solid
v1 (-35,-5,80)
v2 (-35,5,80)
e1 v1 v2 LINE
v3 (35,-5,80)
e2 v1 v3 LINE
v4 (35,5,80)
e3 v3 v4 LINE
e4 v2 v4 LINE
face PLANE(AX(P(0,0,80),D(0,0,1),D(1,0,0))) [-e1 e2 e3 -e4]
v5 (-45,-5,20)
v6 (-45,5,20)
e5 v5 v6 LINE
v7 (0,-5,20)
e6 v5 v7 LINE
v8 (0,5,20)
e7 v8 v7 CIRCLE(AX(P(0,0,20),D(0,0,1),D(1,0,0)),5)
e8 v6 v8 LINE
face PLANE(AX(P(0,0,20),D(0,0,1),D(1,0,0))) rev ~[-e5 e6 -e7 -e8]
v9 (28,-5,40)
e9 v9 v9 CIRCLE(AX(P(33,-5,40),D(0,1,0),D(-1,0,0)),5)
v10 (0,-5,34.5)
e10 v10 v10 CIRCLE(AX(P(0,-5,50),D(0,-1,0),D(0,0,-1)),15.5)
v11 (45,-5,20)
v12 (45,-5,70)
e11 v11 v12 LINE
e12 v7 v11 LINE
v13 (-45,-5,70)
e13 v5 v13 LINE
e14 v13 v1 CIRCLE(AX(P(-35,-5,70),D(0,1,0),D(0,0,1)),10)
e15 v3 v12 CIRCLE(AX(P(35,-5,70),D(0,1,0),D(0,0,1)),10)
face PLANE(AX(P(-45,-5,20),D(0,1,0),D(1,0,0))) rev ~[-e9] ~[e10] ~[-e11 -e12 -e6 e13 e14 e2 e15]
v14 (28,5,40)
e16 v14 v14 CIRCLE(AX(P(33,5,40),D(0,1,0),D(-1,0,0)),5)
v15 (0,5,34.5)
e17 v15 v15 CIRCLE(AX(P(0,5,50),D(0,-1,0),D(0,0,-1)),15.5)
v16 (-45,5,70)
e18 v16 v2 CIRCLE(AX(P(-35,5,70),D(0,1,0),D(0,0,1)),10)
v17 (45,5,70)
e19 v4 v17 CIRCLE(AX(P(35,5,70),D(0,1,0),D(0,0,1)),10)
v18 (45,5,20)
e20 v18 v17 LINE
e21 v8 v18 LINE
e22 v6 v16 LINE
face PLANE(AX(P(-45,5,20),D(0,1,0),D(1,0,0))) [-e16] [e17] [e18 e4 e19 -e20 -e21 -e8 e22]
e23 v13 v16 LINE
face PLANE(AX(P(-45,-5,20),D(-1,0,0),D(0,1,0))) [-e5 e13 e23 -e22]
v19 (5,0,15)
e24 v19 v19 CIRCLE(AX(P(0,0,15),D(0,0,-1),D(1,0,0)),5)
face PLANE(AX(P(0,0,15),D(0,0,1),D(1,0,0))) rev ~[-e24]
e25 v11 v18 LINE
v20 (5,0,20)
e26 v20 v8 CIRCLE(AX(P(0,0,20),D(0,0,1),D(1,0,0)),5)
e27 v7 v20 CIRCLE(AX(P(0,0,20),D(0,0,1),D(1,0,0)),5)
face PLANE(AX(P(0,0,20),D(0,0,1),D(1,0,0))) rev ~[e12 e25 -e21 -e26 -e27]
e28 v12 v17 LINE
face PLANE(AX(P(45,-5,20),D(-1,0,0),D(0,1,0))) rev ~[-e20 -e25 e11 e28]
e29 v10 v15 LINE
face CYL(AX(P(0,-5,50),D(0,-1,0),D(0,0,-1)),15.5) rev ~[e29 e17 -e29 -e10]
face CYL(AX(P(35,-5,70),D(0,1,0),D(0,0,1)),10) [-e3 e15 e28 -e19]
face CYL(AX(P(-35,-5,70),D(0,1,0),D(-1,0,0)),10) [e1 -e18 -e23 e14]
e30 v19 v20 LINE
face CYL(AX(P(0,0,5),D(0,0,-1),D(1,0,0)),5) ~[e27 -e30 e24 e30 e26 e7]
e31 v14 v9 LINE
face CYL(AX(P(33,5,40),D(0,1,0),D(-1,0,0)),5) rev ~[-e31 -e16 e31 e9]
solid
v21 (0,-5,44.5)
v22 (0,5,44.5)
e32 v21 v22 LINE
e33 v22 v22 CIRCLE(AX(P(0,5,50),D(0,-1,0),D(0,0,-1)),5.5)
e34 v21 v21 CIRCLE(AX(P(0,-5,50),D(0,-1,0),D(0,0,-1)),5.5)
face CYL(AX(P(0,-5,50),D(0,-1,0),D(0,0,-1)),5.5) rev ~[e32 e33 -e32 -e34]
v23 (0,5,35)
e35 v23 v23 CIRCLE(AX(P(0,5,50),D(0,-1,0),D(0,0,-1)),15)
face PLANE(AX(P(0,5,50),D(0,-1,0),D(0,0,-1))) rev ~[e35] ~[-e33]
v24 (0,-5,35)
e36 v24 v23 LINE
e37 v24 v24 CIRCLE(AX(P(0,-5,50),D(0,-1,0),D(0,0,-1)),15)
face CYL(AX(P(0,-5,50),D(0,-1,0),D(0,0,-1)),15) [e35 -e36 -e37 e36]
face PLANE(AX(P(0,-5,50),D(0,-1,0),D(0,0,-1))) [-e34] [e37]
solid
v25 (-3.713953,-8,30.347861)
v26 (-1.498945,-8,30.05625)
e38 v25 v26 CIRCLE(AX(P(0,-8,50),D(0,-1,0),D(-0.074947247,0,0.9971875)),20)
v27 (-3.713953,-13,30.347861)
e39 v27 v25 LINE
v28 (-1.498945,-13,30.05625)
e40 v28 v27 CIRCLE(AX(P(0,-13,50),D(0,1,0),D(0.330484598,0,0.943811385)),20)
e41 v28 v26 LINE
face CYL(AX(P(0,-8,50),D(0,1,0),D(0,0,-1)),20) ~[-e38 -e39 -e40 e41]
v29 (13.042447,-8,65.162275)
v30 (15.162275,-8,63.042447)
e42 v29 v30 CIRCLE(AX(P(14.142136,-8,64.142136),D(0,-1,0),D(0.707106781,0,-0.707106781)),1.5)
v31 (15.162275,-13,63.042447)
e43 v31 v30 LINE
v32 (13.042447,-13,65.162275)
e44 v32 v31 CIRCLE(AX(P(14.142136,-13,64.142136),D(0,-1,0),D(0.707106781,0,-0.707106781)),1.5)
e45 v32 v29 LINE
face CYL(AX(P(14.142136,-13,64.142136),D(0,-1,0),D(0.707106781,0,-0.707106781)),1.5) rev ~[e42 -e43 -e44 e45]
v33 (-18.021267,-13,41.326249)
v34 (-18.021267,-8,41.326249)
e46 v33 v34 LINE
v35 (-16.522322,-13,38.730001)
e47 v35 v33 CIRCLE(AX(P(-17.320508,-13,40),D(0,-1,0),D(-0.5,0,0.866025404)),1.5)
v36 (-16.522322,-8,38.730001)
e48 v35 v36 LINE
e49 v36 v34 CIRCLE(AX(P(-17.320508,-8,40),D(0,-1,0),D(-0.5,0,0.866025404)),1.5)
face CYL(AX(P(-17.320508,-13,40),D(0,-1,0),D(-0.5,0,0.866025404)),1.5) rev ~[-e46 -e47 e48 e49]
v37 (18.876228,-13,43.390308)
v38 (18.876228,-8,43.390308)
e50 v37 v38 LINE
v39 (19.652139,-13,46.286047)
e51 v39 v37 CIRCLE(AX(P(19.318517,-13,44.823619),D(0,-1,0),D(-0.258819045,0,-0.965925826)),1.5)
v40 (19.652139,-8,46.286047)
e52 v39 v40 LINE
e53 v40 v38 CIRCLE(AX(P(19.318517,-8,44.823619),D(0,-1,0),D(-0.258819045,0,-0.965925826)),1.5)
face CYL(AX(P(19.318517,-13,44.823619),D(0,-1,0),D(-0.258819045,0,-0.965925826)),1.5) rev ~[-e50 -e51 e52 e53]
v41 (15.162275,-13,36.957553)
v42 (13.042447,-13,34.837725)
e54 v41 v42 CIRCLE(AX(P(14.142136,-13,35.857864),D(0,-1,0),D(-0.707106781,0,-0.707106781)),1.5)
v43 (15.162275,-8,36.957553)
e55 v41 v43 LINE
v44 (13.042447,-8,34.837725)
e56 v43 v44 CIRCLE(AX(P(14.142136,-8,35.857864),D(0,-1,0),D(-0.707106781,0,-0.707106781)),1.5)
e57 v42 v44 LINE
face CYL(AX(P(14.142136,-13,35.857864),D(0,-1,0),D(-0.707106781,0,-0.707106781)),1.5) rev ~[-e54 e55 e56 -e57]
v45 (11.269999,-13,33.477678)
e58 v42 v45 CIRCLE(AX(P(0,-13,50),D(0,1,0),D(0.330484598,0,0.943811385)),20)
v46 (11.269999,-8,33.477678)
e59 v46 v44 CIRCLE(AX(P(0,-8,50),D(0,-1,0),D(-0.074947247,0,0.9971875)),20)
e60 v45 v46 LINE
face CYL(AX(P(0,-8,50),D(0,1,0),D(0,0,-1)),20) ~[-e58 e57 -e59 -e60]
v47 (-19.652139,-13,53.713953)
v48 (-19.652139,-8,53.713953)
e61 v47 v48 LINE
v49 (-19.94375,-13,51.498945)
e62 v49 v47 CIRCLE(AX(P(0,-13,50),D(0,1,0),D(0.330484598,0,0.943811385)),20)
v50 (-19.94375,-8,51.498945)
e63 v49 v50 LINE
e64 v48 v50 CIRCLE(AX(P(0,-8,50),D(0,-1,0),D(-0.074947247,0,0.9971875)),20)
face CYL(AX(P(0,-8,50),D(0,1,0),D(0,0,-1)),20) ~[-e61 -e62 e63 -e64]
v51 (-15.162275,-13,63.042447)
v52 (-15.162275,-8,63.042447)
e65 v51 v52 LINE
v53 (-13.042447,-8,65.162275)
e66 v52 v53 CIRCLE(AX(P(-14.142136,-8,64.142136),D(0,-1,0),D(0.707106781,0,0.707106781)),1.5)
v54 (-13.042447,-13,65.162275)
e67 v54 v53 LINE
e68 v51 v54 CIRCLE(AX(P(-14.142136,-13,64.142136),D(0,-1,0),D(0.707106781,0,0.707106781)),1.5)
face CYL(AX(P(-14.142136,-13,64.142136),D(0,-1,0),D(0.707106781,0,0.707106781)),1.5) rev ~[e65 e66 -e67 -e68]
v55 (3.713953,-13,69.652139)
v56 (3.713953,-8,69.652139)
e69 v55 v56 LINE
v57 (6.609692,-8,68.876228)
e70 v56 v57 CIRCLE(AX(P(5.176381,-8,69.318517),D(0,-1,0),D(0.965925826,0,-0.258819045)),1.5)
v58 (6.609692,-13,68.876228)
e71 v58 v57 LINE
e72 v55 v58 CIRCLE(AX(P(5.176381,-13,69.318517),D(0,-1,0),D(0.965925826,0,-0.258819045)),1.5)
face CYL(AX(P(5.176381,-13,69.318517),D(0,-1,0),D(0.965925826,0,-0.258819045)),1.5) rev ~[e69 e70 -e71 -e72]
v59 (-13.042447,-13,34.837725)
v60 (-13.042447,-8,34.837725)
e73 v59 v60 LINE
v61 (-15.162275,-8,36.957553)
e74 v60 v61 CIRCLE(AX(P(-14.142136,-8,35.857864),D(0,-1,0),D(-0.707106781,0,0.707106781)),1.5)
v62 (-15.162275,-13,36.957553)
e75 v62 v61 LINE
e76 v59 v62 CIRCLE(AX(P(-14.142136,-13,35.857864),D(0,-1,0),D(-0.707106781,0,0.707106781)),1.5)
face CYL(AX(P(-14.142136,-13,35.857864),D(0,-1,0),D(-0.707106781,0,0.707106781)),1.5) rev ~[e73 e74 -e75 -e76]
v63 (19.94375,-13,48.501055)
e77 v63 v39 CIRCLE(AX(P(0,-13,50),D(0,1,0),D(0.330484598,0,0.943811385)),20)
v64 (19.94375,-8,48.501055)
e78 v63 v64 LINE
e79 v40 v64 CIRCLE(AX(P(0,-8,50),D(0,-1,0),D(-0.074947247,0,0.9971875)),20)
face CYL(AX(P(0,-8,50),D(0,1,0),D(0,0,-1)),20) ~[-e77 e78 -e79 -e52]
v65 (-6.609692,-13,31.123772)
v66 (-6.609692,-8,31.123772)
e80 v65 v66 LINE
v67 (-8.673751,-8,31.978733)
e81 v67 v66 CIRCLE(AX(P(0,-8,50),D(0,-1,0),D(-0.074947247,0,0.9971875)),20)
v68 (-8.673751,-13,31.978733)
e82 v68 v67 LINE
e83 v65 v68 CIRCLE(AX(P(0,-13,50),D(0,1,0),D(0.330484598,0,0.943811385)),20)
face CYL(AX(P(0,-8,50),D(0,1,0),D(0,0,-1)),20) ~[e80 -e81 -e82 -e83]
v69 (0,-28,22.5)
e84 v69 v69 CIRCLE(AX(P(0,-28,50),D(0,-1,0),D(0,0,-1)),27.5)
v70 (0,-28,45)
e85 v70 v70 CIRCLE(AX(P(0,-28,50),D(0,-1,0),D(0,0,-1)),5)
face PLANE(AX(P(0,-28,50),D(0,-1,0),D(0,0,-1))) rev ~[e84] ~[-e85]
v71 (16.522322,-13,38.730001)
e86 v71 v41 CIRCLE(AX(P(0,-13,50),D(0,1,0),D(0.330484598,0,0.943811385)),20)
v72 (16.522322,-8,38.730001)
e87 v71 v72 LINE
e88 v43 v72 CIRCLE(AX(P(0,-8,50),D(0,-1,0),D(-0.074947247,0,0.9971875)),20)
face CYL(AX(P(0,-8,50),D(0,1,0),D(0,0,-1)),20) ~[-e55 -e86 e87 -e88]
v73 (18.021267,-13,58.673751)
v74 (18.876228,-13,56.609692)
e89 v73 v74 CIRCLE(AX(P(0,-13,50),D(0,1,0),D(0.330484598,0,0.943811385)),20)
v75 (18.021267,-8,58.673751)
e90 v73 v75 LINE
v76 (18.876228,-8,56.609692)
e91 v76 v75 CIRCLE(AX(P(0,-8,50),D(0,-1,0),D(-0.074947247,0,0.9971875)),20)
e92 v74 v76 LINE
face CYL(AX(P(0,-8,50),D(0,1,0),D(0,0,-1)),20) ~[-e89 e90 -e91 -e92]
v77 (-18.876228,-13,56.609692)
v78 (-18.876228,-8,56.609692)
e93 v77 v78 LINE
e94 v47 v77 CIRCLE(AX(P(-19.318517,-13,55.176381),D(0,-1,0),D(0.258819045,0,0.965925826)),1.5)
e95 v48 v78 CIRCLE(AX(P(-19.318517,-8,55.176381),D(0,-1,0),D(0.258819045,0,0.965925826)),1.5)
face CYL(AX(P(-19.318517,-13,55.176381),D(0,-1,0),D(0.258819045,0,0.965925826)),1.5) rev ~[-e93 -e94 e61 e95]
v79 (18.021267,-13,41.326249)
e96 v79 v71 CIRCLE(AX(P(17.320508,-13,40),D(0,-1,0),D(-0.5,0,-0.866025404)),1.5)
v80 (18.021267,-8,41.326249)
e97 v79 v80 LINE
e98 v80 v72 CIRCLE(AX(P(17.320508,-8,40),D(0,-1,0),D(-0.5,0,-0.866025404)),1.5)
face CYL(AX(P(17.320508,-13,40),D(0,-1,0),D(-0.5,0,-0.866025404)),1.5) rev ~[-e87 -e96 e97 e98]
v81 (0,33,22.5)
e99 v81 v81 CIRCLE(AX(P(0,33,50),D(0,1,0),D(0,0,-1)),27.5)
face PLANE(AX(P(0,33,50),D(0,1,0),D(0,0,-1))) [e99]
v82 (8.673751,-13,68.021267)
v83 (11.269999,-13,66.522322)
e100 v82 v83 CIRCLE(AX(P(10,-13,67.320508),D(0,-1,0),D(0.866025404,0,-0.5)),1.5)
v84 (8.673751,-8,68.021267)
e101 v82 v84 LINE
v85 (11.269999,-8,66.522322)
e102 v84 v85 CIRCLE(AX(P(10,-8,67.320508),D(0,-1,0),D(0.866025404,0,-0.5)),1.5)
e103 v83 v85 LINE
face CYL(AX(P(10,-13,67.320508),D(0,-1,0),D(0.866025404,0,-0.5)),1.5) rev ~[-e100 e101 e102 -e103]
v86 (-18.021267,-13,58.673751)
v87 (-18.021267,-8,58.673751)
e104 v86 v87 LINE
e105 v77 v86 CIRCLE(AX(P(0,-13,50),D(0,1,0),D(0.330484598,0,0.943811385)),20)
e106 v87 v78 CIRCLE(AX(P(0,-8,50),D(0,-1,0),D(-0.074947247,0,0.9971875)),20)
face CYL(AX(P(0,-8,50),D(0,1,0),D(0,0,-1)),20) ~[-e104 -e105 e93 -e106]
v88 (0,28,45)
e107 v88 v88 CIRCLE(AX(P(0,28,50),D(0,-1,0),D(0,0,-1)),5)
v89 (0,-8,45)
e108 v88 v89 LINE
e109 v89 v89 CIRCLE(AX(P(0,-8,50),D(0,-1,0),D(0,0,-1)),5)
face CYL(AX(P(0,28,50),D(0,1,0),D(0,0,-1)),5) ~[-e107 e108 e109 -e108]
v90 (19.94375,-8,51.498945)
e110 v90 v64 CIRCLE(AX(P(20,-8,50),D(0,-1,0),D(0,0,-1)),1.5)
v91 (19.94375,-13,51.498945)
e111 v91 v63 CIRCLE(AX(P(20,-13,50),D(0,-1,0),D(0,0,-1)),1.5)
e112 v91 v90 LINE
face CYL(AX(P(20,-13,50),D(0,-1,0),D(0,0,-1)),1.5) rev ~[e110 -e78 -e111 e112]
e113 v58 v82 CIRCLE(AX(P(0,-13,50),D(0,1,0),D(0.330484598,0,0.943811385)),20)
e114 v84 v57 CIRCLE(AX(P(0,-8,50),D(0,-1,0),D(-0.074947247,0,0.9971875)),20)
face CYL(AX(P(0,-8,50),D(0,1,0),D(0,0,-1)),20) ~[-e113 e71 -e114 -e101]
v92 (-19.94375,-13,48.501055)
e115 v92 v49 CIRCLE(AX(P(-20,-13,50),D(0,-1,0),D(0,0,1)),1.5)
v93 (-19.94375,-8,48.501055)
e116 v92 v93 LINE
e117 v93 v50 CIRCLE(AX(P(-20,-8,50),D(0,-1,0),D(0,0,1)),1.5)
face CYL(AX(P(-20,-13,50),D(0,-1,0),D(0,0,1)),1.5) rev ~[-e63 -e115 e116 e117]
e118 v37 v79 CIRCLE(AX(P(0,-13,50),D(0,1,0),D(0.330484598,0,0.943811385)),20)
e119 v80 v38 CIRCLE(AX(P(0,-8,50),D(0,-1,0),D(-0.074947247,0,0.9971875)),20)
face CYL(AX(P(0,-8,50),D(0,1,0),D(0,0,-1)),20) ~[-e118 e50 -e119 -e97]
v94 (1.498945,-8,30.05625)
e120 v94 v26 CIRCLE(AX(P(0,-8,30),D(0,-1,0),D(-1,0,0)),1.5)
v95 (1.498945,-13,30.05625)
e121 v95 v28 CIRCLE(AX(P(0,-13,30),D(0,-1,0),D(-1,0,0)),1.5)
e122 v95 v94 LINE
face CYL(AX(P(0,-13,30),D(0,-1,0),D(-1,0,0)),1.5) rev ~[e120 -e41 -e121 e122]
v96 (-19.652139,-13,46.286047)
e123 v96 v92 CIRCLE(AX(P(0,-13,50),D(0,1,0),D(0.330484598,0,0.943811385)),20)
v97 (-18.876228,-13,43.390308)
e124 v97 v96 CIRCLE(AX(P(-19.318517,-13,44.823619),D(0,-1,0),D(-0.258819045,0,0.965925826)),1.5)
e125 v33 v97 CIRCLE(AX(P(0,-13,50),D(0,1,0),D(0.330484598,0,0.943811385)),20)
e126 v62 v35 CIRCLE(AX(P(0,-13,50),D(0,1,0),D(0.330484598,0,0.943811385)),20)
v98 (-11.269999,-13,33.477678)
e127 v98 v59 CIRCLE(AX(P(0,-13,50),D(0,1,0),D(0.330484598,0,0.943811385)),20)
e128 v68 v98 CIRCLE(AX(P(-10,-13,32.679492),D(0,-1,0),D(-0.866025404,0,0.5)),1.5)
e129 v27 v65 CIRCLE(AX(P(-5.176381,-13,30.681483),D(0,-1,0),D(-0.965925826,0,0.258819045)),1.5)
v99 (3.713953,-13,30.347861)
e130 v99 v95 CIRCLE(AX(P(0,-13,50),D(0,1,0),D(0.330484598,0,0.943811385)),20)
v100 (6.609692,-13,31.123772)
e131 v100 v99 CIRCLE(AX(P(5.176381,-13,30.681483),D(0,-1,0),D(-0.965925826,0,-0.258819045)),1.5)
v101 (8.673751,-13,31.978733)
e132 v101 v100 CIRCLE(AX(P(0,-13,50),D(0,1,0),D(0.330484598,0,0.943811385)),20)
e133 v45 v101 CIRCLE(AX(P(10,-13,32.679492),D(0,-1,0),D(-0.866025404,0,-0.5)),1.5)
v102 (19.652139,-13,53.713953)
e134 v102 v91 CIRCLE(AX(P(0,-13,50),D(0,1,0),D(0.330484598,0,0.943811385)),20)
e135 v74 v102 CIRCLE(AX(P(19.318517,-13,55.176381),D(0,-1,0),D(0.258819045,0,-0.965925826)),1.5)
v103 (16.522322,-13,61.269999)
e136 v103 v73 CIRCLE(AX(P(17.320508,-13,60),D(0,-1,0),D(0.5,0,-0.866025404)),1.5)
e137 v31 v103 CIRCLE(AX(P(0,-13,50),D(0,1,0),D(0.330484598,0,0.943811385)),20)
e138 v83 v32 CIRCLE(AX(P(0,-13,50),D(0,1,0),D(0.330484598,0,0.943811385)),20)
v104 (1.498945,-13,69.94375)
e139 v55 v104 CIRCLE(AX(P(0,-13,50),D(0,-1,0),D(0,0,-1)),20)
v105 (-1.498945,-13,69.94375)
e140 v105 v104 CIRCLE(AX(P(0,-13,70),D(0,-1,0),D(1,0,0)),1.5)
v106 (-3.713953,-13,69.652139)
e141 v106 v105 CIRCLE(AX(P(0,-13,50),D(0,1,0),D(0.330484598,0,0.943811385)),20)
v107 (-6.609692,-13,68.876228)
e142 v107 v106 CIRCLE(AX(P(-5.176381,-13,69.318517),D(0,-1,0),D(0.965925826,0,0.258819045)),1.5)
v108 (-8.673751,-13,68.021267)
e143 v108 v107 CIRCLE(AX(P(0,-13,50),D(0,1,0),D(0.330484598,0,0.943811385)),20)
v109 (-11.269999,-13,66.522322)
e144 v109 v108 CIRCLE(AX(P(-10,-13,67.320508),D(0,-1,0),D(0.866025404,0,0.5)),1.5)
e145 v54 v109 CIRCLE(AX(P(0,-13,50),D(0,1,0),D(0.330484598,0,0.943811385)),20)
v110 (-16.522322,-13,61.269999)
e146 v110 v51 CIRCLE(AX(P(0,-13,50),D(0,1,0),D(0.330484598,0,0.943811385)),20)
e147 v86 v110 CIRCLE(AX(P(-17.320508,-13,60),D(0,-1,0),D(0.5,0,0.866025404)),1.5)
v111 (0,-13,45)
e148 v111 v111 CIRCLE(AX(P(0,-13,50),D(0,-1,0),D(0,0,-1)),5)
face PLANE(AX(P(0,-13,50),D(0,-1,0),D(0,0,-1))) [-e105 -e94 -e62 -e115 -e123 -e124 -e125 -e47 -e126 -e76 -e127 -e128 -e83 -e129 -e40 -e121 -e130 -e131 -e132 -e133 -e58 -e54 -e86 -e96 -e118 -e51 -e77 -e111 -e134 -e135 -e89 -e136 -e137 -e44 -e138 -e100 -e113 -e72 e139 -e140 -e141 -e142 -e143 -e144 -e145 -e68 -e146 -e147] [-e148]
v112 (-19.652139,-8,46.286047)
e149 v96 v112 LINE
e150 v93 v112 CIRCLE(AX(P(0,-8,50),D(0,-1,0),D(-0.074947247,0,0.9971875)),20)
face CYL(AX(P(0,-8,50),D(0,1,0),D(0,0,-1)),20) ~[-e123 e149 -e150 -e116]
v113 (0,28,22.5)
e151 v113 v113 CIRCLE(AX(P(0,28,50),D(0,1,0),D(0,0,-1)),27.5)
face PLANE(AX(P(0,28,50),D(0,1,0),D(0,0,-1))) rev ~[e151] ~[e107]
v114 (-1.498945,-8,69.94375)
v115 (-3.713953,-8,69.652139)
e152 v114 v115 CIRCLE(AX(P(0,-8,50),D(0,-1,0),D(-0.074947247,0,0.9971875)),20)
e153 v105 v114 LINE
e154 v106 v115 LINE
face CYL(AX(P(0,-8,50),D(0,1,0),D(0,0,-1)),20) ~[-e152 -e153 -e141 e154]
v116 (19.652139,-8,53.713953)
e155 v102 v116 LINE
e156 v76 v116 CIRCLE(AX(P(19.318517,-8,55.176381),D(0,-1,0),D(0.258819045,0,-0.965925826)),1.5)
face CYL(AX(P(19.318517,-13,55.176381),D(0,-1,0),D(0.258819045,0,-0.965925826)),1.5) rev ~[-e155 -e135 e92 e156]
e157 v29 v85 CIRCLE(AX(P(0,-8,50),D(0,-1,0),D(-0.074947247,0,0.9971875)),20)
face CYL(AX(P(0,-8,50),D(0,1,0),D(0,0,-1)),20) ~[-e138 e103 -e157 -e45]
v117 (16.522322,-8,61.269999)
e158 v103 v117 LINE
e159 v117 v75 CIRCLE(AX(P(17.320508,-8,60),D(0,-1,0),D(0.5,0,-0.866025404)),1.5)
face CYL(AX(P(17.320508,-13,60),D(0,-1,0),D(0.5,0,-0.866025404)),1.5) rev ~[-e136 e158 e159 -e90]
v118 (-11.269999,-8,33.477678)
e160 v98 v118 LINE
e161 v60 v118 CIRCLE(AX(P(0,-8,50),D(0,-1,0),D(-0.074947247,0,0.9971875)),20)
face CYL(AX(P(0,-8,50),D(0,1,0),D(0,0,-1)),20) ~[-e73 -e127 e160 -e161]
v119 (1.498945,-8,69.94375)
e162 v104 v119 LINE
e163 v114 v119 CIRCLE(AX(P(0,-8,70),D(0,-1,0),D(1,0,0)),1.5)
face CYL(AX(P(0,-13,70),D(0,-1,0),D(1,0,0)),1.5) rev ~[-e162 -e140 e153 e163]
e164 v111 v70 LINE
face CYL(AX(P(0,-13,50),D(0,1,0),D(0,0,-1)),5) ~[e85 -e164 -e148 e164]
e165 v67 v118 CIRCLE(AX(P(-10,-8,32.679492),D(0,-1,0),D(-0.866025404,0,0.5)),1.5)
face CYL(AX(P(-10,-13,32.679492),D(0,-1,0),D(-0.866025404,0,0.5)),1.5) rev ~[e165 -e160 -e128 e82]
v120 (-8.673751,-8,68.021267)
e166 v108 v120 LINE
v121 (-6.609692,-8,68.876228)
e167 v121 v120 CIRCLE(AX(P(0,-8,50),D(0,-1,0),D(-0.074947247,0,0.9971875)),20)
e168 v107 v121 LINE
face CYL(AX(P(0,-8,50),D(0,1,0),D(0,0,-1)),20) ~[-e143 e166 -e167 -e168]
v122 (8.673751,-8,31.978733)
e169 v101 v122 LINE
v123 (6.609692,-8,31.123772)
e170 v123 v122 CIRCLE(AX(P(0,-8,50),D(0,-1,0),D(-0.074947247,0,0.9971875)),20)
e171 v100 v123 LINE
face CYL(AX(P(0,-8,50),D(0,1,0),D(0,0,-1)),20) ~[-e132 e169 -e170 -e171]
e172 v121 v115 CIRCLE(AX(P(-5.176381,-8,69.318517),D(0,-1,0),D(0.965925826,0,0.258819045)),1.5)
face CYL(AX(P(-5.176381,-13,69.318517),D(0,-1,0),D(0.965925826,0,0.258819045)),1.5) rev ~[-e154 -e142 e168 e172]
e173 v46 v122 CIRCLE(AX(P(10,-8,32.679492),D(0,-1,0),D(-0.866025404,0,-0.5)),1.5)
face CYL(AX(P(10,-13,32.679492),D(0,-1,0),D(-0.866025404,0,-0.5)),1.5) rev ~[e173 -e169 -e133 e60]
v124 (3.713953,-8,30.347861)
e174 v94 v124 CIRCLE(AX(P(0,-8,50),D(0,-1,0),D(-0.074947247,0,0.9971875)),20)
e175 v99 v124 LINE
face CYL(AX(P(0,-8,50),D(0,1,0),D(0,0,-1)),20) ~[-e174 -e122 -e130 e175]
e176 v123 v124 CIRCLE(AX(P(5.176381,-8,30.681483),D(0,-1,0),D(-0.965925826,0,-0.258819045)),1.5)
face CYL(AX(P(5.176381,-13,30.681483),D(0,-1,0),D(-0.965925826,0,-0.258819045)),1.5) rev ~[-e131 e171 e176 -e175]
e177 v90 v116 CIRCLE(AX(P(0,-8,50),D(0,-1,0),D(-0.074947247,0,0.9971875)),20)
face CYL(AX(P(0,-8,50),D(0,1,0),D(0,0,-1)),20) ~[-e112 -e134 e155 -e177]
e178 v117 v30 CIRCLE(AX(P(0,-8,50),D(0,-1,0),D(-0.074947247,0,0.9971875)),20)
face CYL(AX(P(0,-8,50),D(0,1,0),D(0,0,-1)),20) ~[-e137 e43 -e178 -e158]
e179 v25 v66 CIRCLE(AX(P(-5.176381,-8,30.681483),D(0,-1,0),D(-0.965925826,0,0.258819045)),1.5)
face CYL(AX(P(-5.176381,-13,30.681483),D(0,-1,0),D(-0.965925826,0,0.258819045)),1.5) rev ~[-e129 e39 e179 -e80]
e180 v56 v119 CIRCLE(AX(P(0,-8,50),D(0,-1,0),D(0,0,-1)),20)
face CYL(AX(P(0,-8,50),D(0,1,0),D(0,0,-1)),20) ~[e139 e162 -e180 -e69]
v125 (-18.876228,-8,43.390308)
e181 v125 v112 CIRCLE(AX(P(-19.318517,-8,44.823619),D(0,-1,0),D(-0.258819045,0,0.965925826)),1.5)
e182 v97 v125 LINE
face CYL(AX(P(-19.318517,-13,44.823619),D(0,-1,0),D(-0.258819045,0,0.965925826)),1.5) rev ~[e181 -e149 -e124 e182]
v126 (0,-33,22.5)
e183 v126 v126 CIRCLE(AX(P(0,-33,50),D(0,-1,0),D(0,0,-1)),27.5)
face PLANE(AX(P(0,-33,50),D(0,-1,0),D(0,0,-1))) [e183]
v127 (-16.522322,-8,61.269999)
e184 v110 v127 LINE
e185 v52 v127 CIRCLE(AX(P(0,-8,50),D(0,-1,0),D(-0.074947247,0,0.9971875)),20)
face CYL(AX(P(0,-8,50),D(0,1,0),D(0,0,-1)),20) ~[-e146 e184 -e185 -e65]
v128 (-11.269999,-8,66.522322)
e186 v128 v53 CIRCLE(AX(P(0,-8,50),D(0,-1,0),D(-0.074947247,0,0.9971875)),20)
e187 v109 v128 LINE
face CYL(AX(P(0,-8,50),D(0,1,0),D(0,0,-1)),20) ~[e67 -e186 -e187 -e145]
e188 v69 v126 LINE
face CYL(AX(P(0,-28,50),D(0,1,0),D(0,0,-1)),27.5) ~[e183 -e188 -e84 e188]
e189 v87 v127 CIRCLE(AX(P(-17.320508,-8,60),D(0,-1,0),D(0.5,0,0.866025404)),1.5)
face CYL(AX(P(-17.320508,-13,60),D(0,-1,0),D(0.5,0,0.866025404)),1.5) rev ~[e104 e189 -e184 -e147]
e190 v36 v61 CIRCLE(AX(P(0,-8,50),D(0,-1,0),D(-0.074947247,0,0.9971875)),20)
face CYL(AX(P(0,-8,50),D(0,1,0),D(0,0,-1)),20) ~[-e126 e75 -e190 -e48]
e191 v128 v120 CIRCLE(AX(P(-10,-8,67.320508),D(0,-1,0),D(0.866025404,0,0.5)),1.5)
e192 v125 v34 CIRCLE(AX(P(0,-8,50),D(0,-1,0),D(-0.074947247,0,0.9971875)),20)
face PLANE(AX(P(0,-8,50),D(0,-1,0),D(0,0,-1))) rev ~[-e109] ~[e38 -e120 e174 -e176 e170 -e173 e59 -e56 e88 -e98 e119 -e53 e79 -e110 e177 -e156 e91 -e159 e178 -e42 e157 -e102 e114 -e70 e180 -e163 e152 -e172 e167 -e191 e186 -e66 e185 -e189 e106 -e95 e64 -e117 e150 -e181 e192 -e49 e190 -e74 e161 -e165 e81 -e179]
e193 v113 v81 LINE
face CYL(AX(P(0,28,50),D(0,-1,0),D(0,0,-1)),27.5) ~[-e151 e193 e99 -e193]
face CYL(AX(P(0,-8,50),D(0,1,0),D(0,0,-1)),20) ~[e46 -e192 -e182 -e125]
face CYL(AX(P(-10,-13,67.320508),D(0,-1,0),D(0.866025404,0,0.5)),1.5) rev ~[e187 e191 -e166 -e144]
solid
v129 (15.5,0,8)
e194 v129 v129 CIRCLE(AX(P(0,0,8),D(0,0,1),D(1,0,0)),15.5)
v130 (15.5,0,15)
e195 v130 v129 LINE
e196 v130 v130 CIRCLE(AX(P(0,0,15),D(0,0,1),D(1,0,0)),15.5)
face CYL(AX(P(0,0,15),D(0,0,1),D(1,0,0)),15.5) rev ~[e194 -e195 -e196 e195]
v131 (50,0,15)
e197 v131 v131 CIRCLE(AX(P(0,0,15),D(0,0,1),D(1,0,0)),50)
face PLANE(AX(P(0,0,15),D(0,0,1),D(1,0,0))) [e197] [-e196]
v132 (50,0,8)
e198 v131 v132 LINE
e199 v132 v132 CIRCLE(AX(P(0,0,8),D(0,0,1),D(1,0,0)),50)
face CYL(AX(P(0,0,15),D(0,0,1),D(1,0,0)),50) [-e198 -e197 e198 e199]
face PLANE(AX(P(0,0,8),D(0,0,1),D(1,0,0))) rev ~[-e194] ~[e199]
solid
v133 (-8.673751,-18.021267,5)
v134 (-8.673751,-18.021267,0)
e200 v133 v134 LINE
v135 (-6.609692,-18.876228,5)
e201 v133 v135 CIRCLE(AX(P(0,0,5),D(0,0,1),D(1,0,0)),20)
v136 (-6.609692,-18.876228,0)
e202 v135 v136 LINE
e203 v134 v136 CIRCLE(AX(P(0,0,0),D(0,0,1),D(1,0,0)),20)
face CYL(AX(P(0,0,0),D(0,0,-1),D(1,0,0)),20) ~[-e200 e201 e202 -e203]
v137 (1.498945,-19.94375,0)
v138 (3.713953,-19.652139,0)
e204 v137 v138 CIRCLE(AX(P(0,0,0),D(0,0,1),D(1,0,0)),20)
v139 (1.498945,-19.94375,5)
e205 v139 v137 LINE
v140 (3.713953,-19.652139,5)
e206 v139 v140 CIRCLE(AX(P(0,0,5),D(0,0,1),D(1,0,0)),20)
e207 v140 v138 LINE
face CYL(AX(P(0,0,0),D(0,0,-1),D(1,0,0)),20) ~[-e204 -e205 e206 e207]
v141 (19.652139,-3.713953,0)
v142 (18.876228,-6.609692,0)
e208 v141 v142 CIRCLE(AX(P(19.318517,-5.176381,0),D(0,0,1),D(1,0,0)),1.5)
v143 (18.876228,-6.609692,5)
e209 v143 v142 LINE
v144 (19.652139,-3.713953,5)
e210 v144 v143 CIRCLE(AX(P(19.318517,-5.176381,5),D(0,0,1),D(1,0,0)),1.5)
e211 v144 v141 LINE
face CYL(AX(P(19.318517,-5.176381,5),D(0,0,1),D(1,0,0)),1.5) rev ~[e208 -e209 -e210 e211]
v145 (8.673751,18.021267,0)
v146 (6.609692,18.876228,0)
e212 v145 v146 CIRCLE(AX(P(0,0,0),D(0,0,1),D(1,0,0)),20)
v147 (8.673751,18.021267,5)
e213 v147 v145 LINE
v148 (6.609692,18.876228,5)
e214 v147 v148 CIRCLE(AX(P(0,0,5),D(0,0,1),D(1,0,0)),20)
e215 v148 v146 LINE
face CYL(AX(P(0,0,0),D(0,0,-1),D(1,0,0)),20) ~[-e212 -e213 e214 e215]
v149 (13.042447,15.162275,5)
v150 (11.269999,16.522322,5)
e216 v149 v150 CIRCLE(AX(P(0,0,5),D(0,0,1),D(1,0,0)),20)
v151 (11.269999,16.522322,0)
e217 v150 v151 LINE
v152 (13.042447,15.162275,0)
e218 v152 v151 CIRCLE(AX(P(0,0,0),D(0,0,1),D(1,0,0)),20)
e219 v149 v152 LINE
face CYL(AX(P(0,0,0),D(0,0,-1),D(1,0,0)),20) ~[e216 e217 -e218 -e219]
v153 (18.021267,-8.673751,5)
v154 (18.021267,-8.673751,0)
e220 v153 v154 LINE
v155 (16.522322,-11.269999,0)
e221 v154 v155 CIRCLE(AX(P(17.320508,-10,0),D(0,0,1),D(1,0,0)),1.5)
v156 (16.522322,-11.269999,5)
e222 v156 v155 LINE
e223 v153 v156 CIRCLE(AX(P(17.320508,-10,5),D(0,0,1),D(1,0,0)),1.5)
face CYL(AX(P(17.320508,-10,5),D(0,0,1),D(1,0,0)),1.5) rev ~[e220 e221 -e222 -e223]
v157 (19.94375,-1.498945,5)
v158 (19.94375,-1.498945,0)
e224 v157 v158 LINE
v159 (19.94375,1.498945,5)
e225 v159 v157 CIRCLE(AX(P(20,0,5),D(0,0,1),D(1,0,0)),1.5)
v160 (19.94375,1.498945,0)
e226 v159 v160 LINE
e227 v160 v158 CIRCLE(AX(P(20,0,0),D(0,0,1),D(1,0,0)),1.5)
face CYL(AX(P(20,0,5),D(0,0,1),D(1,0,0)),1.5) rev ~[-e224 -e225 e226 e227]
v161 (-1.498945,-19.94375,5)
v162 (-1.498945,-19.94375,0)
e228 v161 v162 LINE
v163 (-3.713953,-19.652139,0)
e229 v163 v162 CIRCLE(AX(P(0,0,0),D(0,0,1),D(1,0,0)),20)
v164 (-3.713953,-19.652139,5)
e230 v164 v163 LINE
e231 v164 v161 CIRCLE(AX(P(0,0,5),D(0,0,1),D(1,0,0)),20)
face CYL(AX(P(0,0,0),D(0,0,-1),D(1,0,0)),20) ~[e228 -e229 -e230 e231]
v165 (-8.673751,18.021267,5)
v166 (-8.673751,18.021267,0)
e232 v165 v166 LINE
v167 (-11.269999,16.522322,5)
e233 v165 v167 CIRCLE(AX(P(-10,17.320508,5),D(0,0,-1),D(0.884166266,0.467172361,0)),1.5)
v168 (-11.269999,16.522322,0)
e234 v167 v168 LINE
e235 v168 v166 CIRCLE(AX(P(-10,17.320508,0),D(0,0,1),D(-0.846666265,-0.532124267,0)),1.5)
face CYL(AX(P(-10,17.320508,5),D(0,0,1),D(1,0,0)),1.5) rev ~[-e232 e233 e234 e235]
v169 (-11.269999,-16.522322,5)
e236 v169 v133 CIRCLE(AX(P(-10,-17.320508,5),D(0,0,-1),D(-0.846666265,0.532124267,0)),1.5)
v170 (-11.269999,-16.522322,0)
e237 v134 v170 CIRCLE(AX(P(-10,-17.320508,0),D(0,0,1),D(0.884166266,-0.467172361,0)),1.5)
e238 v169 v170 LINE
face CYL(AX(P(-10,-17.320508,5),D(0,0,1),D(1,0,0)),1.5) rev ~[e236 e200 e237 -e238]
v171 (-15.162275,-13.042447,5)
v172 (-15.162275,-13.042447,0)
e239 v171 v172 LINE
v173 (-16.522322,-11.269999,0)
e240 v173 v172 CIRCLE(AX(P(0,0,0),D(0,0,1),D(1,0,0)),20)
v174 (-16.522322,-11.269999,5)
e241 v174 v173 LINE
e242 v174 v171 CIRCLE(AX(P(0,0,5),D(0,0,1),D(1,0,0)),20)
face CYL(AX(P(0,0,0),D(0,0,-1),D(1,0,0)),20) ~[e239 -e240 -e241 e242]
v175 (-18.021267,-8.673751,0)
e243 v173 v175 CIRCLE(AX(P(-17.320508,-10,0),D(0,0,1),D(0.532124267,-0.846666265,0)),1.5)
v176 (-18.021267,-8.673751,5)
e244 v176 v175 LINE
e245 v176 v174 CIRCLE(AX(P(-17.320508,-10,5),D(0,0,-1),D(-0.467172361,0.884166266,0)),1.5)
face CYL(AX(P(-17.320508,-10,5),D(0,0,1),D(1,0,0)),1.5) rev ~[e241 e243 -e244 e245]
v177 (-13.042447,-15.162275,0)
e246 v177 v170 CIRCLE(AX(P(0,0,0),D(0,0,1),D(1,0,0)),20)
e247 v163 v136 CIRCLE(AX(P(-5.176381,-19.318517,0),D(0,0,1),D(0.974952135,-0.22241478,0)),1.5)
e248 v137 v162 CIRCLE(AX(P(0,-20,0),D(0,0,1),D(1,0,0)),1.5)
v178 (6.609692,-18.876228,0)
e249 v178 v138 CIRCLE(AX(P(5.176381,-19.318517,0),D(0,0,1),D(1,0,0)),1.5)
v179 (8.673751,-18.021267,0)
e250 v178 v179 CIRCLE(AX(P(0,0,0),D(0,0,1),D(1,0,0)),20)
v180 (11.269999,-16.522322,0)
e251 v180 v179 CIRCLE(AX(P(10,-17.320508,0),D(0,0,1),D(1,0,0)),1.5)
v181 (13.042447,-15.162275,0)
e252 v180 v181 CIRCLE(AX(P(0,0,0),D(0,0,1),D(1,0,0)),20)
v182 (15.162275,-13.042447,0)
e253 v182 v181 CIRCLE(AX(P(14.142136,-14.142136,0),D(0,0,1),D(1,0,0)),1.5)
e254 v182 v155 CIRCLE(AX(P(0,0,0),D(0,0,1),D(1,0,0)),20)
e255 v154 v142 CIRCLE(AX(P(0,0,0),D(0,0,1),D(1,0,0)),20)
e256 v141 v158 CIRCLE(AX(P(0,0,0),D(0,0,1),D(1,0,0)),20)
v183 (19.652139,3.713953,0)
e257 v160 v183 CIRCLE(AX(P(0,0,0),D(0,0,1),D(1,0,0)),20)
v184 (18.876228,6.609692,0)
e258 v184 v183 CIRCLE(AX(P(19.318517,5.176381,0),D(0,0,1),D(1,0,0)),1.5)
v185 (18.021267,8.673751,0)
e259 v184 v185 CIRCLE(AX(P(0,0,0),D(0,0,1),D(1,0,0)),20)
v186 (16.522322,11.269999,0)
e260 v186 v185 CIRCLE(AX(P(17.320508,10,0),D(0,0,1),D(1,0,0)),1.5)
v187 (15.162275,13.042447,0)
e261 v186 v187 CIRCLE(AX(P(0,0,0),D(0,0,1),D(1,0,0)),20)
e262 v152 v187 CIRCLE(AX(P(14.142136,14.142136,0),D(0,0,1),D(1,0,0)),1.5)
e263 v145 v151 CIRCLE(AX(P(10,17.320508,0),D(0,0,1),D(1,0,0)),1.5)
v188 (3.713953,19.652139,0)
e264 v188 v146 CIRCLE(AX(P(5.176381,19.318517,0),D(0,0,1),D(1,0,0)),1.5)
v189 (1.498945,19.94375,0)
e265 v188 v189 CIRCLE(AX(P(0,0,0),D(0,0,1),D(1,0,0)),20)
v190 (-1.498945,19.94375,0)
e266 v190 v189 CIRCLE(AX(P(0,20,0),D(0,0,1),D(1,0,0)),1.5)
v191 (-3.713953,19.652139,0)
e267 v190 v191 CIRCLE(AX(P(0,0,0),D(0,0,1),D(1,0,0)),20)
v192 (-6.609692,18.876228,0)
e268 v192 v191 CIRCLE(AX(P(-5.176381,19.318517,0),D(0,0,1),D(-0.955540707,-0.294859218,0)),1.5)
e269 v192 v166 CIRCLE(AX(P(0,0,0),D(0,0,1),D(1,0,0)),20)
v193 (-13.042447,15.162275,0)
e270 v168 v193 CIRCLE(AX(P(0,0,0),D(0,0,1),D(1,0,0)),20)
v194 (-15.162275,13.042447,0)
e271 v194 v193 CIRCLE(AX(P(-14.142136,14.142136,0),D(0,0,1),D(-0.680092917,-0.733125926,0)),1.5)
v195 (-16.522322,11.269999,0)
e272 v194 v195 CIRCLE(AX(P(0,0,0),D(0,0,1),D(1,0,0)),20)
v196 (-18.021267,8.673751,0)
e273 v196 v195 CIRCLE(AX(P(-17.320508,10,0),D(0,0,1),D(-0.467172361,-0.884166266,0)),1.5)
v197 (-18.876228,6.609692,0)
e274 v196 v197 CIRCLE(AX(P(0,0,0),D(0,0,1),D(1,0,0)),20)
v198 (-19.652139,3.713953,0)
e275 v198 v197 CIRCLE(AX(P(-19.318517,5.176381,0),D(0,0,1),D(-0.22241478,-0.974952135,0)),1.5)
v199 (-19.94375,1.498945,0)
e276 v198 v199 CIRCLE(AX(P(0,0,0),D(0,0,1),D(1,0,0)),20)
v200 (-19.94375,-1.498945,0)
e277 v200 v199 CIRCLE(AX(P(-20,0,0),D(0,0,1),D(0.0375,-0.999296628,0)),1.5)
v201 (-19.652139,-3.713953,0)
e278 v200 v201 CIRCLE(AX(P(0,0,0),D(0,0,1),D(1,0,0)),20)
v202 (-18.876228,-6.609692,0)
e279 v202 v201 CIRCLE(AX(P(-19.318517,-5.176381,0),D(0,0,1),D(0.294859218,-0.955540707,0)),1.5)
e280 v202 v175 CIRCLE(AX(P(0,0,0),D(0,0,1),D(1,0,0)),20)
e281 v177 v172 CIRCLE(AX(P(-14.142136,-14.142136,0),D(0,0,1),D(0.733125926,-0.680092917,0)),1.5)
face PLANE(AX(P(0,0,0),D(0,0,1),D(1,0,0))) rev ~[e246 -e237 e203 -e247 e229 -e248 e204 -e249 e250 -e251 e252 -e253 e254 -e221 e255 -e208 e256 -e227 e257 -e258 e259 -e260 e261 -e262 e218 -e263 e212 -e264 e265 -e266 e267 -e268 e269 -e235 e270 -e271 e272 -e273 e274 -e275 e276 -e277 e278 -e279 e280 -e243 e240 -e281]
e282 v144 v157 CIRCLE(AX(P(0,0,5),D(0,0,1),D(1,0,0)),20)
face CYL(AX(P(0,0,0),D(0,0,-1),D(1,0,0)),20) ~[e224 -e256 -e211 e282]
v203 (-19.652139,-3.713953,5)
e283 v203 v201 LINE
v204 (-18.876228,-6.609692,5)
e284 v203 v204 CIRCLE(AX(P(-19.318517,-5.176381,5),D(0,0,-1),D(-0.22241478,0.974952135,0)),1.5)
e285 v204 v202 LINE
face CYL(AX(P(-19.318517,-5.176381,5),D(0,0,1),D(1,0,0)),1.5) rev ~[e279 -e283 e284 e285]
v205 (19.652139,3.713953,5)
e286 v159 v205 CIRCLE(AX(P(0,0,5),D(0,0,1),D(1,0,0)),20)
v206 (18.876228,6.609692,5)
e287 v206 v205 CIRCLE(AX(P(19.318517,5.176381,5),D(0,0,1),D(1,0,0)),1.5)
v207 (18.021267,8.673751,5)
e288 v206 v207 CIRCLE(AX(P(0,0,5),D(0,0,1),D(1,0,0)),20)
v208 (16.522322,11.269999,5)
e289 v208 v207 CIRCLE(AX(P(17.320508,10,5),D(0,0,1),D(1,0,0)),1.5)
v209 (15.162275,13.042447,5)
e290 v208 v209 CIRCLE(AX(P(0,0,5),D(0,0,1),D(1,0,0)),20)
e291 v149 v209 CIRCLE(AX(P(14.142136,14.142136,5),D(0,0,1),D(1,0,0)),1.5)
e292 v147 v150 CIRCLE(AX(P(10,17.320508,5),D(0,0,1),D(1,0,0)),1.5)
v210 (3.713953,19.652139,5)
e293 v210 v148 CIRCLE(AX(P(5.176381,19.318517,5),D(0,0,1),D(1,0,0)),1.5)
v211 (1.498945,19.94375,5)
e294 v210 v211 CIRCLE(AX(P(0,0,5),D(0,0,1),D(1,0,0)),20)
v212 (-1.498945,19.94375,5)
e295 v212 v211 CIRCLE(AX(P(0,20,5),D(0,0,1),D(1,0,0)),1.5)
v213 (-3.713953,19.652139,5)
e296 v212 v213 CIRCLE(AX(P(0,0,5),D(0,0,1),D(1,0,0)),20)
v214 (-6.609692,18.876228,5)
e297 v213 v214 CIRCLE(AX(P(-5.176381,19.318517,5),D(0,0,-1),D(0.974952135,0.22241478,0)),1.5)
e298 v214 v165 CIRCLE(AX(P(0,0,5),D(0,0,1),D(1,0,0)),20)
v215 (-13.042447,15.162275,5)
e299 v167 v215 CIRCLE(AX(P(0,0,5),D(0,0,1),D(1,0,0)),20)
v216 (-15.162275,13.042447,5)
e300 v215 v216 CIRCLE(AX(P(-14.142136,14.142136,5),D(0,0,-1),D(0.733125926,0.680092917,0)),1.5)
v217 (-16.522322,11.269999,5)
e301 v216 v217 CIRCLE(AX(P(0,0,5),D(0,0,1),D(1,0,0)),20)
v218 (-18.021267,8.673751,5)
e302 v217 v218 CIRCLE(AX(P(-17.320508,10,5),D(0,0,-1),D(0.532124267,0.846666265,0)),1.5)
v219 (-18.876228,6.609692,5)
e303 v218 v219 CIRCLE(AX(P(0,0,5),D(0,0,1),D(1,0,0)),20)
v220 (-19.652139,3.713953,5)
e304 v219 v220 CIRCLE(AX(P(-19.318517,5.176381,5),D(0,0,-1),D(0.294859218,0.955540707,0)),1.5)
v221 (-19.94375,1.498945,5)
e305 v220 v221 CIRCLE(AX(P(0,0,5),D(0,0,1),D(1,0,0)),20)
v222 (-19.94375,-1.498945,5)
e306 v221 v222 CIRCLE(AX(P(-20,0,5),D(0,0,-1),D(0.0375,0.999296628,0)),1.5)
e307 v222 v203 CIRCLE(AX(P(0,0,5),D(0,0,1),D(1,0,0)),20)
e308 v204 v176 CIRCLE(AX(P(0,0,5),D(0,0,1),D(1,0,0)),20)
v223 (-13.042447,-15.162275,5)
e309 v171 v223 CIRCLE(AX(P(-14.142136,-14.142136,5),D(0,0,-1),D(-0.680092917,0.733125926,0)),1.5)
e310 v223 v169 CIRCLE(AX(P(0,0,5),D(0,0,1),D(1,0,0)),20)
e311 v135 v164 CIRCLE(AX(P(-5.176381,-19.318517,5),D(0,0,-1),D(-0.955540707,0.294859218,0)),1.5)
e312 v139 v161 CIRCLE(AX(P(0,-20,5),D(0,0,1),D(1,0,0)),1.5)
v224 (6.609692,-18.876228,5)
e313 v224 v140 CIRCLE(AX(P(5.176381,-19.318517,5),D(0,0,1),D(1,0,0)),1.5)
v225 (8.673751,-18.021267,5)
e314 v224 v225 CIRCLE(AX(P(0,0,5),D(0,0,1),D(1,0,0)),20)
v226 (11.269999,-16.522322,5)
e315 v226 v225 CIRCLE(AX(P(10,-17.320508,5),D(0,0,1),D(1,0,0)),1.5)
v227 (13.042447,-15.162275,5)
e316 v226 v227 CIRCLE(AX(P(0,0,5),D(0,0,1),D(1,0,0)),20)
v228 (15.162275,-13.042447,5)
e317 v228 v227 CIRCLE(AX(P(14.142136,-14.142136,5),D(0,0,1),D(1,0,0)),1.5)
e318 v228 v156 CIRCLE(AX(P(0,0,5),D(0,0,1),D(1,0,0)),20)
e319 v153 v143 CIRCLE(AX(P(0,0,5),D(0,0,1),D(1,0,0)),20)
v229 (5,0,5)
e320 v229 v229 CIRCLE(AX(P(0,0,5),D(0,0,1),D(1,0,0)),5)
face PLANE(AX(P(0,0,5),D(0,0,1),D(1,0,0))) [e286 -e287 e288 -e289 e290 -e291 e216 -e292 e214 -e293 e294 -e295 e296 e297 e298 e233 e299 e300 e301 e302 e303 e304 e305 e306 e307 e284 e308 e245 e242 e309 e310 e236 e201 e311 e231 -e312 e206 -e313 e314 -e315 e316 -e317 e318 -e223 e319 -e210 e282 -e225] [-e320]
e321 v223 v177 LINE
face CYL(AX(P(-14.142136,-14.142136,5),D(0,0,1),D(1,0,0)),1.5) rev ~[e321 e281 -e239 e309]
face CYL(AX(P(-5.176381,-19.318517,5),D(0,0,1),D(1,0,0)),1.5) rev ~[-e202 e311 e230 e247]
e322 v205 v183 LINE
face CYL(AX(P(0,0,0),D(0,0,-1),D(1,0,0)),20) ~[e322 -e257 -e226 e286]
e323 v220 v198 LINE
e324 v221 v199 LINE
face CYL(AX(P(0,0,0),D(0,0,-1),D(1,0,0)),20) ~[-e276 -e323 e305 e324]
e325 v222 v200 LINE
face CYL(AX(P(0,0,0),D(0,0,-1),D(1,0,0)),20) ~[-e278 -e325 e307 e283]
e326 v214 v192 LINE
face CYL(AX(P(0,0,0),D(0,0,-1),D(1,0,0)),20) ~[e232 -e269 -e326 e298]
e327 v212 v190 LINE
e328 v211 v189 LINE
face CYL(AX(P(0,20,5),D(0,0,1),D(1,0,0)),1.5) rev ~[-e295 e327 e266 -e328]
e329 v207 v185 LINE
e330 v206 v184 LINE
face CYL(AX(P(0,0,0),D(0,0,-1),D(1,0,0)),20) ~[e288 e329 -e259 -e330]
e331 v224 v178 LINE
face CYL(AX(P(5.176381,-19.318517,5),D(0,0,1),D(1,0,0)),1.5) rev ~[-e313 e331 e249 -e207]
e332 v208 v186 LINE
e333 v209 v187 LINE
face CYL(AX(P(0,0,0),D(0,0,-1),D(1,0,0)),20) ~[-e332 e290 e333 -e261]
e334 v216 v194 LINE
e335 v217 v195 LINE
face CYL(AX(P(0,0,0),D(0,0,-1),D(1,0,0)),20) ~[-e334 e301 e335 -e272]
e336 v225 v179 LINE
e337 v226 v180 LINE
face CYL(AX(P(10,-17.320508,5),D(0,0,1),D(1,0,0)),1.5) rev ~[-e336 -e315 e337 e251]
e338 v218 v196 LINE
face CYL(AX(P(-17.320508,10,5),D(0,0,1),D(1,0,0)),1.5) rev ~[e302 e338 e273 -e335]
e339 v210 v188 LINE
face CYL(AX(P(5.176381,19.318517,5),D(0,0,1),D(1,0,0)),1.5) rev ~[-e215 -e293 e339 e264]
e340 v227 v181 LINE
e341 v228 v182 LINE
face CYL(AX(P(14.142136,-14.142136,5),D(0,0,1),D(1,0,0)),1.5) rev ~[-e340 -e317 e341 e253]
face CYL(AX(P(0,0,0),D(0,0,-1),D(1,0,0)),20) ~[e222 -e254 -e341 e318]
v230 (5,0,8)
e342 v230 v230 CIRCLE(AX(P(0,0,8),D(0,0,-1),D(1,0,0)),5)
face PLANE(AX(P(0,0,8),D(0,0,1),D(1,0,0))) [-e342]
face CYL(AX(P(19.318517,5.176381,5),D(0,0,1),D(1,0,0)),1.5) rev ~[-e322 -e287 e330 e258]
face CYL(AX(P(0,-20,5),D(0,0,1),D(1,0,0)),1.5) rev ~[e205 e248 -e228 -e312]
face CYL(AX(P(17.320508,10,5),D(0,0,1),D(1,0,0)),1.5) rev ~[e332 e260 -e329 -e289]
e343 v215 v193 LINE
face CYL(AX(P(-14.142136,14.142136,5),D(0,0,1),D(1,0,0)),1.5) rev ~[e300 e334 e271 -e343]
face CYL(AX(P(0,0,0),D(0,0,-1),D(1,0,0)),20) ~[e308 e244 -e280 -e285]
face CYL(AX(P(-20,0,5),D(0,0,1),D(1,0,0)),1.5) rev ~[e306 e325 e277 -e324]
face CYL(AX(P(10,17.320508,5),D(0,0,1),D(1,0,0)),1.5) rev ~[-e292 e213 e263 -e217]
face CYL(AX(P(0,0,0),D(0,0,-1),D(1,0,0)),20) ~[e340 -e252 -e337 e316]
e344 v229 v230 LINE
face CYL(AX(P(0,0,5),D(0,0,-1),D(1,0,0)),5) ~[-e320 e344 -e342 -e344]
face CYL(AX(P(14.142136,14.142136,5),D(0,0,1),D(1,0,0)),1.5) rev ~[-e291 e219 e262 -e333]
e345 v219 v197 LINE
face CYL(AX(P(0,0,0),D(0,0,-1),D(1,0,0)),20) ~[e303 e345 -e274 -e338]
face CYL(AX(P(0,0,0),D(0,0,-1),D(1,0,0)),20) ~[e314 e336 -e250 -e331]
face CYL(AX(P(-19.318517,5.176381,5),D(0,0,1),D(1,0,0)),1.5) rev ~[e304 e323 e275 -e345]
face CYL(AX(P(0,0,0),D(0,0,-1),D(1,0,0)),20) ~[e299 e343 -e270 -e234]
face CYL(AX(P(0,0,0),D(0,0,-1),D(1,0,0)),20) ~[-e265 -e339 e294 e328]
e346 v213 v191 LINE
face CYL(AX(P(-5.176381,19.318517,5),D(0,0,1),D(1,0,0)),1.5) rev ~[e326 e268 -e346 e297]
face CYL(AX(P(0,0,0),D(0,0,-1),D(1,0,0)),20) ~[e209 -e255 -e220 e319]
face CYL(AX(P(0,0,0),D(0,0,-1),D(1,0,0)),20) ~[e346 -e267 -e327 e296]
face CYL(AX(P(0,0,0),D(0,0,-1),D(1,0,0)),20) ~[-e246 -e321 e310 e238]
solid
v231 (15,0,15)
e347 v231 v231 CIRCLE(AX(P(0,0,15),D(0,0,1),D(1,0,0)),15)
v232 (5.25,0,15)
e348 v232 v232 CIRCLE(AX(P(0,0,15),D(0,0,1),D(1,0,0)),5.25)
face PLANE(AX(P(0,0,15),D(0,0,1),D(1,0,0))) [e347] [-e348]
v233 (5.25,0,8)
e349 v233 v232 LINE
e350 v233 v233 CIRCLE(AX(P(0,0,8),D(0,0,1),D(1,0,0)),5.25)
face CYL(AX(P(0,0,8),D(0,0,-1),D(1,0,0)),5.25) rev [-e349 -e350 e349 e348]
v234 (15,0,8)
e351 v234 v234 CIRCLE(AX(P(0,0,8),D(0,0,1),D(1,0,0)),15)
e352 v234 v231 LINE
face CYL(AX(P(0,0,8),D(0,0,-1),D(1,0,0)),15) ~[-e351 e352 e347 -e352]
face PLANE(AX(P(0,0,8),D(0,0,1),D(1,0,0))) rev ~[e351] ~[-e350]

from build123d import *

# Parameters (mm, degrees)
SKETCH1_R                = 20
BOSS_EXTRUDE1_DEPTH      = 5
SKETCH3_R                = 1.5
CUT_EXTRUDE1_DEPTH       = 5
SKETCH4_R                = 5
BOSS_EXTRUDE2_DEPTH      = 15
BOSS_EXTRUDE3_START      = 3
SKETCH5_R                = 15
BOSS_EXTRUDE3_DEPTH      = 7
CUT_EXTRUDE4_START       = 3
SKETCH6_R                = 5.25
CUT_EXTRUDE4_DEPTH       = 7
SKETCH7_R                = 50
SKETCH7_R_2              = 15.5
BOSS_EXTRUDE4_DEPTH      = 7
SKETCH8_W                = 90
SKETCH8_H                = 10
BOSS_EXTRUDE5_DEPTH      = 60
SKETCH9_R                = 15.5
CUT_EXTRUDE5_DEPTH       = 10
SKETCH10_R               = 15
SKETCH10_R_2             = 5.5
BOSS_EXTRUDE6_DEPTH      = 10
FILLET1_R                = 10
BOSS_EXTRUDE7_DEPTH      = 3
BOSS_EXTRUDE7_DEPTH_BACK = 33
SKETCH11_R               = 5
SKETCH13_R               = 20
BOSS_EXTRUDE8_DEPTH      = 5
SKETCH14_R               = 1.5
CUT_EXTRUDE6_DEPTH       = 5
CIRPATTERN2_COUNT        = 24
SKETCH16_R               = 5
BOSS_EXTRUDE9_DEPTH      = 15
SKETCH18_R               = 27.5
BOSS_EXTRUDE10_DEPTH     = 5
SKETCH19_R               = 27.5
BOSS_EXTRUDE11_DEPTH     = 5
SKETCH20_R               = 5
CUT_EXTRUDE7_DEPTH       = 10


with BuildPart() as part:
    # Sketch1 → Boss-Extrude1 (new body)
    with BuildSketch(Plane.XY):
        Circle(SKETCH1_R)
    extrude(amount=BOSS_EXTRUDE1_DEPTH)

    # Sketch3 → Cut-Extrude1 (cut)
    with BuildSketch(Plane.XY.offset(5)):
        with Locations((0, 20)):
            Circle(SKETCH3_R)
        with Locations((5.176380902, 19.318516526)):
            Circle(SKETCH3_R)
        with Locations((10, 17.320508076)):
            Circle(SKETCH3_R)
        with Locations((14.142135624, 14.142135624)):
            Circle(SKETCH3_R)
        with Locations((17.320508076, 10)):
            Circle(SKETCH3_R)
        with Locations((19.318516526, 5.176380902)):
            Circle(SKETCH3_R)
        with Locations((20, 0)):
            Circle(SKETCH3_R)
        with Locations((19.318516526, -5.176380902)):
            Circle(SKETCH3_R)
        with Locations((17.320508076, -10)):
            Circle(SKETCH3_R)
        with Locations((14.142135624, -14.142135624)):
            Circle(SKETCH3_R)
        with Locations((10, -17.320508076)):
            Circle(SKETCH3_R)
        with Locations((5.176380902, -19.318516526)):
            Circle(SKETCH3_R)
        with Locations((0, -20)):
            Circle(SKETCH3_R)
        with Locations((-5.176380902, -19.318516526)):
            Circle(SKETCH3_R)
        with Locations((-10, -17.320508076)):
            Circle(SKETCH3_R)
        with Locations((-14.142135624, -14.142135624)):
            Circle(SKETCH3_R)
        with Locations((-17.320508076, -10)):
            Circle(SKETCH3_R)
        with Locations((-19.318516526, -5.176380902)):
            Circle(SKETCH3_R)
        with Locations((-20, 0)):
            Circle(SKETCH3_R)
        with Locations((-19.318516526, 5.176380902)):
            Circle(SKETCH3_R)
        with Locations((-17.320508076, 10)):
            Circle(SKETCH3_R)
        with Locations((-14.142135624, 14.142135624)):
            Circle(SKETCH3_R)
        with Locations((-10, 17.320508076)):
            Circle(SKETCH3_R)
        with Locations((-5.176380902, 19.318516526)):
            Circle(SKETCH3_R)
    extrude(amount=-CUT_EXTRUDE1_DEPTH, mode=Mode.SUBTRACT)

    # Sketch4 → Boss-Extrude2 (add)
    with BuildSketch(Plane.XY.offset(5)):
        Circle(SKETCH4_R)
    extrude(amount=BOSS_EXTRUDE2_DEPTH)

    # Sketch5 → Boss-Extrude3 (add)
    with BuildSketch(Plane.XY.offset(5).offset(BOSS_EXTRUDE3_START)):
        Circle(SKETCH5_R)
    extrude(amount=BOSS_EXTRUDE3_DEPTH)

    # Sketch6 → Cut-Extrude4 (cut)
    with BuildSketch(Plane.XY.offset(5).offset(CUT_EXTRUDE4_START)):
        Circle(SKETCH6_R)
    extrude(amount=CUT_EXTRUDE4_DEPTH, mode=Mode.SUBTRACT)


with BuildPart() as cut_extrude4_piece_1:
    # of the separate pieces the step leaves, piece 1, a body of its own (cut_extrude4_pieces)
    add(part.part.solids().sort_by_distance((19.94375, 1.498944941, 0))[0])


with BuildPart() as cut_extrude4_piece_2:
    # of the separate pieces the step leaves, piece 2, a body of its own (cut_extrude4_pieces)
    add(part.part.solids().sort_by_distance((15, 0, 8))[0])


with BuildPart() as cut_extrude4_piece_3:
    # of the separate pieces the step leaves, piece 3, a body of its own (cut_extrude4_pieces)
    add(part.part.solids().sort_by_distance((5, 0, 15))[0])

    # Sketch8 → Boss-Extrude5 (add)
    with BuildSketch(Plane.XY.offset(20)):
        Rectangle(SKETCH8_W, SKETCH8_H)
    extrude(amount=BOSS_EXTRUDE5_DEPTH)

    # Sketch9 → Cut-Extrude5 (cut)
    with BuildSketch(Plane.XZ.offset(5)):
        with Locations(Location((0, 50, 0), (0, 0, 270))):
            Circle(SKETCH9_R)
    extrude(amount=-CUT_EXTRUDE5_DEPTH, mode=Mode.SUBTRACT)

    # Fillet1
    fillet1_edges = [cut_extrude4_piece_3.edges().sort_by_distance(p)[0] for p in [
        (45, 0, 80),
        (-45, 0, 80),
    ]]
    fillet(fillet1_edges, radius=FILLET1_R)

    # Sketch20 → Cut-Extrude7 (cut)
    with BuildSketch(Plane(origin=(0, 5, 0), x_dir=(1, 0, 0), z_dir=(0, 1, 0))):
        with Locations(Location((33, -40, 0), (0, 0, 180))):
            Circle(SKETCH20_R)
    extrude(amount=-CUT_EXTRUDE7_DEPTH, mode=Mode.SUBTRACT)


with BuildPart() as body_4:
    # Sketch7 → Boss-Extrude4 (new body)
    with BuildSketch(Plane.XY.offset(15)):
        Circle(SKETCH7_R)
        Circle(SKETCH7_R_2, mode=Mode.SUBTRACT)
    extrude(amount=-BOSS_EXTRUDE4_DEPTH)


with BuildPart() as body_5:
    # Sketch10 → Boss-Extrude6 (new body)
    with BuildSketch(Plane.XZ.offset(5)):
        with Locations(Location((0, 50, 0), (0, 0, 270))):
            Circle(SKETCH10_R)
        with Locations(Location((0, 50, 0), (0, 0, 270))):
            Circle(SKETCH10_R_2, mode=Mode.SUBTRACT)
    extrude(amount=-BOSS_EXTRUDE6_DEPTH)


with BuildPart() as body_6:
    # Sketch11 → Boss-Extrude7 (new, two sides: drawn at the far end of the back side and taken through both)
    with BuildSketch(Plane(origin=(0, -5, 0), x_dir=(-1, 0, 0), z_dir=(0, -1, 0)).offset(-BOSS_EXTRUDE7_DEPTH_BACK)):
        with Locations(Location((0, -50, 0), (0, 0, 90))):
            Circle(SKETCH11_R)
    extrude(amount=BOSS_EXTRUDE7_DEPTH + BOSS_EXTRUDE7_DEPTH_BACK)

    # Sketch13 → Boss-Extrude8 (add)
    with BuildSketch(Plane.XZ.offset(8)):
        with Locations(Location((0, 50, 0), (0, 0, 270))):
            Circle(SKETCH13_R)
    extrude(amount=BOSS_EXTRUDE8_DEPTH)

    # Sketch14 → Cut-Extrude6 (cut)
    with BuildSketch(Plane.XZ.offset(13)):
        with Locations((0, 70)):
            Circle(SKETCH14_R)
    cut_extrude6 = extrude(amount=-CUT_EXTRUDE6_DEPTH, mode=Mode.SUBTRACT)

    # CirPattern2: Cut-Extrude6 ×24 about axis
    cirpattern2_axis = Axis((0, 0, 50), (0, 1, 0))
    for i in range(1, CIRPATTERN2_COUNT):
        add(cut_extrude6.rotate(cirpattern2_axis, i * 360 / CIRPATTERN2_COUNT), mode=Mode.SUBTRACT)

    # Sketch16 → Boss-Extrude9 (add)
    with BuildSketch(Plane.XZ.offset(13)):
        with Locations(Location((0, 50, 0), (0, 0, 270))):
            Circle(SKETCH16_R)
    extrude(amount=BOSS_EXTRUDE9_DEPTH)

    # Sketch18 → Boss-Extrude10 (add)
    with BuildSketch(Plane.XZ.offset(28)):
        with Locations(Location((0, 50, 0), (0, 0, 270))):
            Circle(SKETCH18_R)
    extrude(amount=BOSS_EXTRUDE10_DEPTH)

    # Sketch19 → Boss-Extrude11 (add)
    with BuildSketch(Plane(origin=(0, 28, 0), x_dir=(1, 0, 0), z_dir=(0, 1, 0))):
        with Locations(Location((0, -50, 0), (0, 0, 90))):
            Circle(SKETCH19_R)
    extrude(amount=BOSS_EXTRUDE11_DEPTH)


solid = Compound([cut_extrude4_piece_1.part, cut_extrude4_piece_2.part, cut_extrude4_piece_3.part, body_4.part, body_5.part, body_6.part])
